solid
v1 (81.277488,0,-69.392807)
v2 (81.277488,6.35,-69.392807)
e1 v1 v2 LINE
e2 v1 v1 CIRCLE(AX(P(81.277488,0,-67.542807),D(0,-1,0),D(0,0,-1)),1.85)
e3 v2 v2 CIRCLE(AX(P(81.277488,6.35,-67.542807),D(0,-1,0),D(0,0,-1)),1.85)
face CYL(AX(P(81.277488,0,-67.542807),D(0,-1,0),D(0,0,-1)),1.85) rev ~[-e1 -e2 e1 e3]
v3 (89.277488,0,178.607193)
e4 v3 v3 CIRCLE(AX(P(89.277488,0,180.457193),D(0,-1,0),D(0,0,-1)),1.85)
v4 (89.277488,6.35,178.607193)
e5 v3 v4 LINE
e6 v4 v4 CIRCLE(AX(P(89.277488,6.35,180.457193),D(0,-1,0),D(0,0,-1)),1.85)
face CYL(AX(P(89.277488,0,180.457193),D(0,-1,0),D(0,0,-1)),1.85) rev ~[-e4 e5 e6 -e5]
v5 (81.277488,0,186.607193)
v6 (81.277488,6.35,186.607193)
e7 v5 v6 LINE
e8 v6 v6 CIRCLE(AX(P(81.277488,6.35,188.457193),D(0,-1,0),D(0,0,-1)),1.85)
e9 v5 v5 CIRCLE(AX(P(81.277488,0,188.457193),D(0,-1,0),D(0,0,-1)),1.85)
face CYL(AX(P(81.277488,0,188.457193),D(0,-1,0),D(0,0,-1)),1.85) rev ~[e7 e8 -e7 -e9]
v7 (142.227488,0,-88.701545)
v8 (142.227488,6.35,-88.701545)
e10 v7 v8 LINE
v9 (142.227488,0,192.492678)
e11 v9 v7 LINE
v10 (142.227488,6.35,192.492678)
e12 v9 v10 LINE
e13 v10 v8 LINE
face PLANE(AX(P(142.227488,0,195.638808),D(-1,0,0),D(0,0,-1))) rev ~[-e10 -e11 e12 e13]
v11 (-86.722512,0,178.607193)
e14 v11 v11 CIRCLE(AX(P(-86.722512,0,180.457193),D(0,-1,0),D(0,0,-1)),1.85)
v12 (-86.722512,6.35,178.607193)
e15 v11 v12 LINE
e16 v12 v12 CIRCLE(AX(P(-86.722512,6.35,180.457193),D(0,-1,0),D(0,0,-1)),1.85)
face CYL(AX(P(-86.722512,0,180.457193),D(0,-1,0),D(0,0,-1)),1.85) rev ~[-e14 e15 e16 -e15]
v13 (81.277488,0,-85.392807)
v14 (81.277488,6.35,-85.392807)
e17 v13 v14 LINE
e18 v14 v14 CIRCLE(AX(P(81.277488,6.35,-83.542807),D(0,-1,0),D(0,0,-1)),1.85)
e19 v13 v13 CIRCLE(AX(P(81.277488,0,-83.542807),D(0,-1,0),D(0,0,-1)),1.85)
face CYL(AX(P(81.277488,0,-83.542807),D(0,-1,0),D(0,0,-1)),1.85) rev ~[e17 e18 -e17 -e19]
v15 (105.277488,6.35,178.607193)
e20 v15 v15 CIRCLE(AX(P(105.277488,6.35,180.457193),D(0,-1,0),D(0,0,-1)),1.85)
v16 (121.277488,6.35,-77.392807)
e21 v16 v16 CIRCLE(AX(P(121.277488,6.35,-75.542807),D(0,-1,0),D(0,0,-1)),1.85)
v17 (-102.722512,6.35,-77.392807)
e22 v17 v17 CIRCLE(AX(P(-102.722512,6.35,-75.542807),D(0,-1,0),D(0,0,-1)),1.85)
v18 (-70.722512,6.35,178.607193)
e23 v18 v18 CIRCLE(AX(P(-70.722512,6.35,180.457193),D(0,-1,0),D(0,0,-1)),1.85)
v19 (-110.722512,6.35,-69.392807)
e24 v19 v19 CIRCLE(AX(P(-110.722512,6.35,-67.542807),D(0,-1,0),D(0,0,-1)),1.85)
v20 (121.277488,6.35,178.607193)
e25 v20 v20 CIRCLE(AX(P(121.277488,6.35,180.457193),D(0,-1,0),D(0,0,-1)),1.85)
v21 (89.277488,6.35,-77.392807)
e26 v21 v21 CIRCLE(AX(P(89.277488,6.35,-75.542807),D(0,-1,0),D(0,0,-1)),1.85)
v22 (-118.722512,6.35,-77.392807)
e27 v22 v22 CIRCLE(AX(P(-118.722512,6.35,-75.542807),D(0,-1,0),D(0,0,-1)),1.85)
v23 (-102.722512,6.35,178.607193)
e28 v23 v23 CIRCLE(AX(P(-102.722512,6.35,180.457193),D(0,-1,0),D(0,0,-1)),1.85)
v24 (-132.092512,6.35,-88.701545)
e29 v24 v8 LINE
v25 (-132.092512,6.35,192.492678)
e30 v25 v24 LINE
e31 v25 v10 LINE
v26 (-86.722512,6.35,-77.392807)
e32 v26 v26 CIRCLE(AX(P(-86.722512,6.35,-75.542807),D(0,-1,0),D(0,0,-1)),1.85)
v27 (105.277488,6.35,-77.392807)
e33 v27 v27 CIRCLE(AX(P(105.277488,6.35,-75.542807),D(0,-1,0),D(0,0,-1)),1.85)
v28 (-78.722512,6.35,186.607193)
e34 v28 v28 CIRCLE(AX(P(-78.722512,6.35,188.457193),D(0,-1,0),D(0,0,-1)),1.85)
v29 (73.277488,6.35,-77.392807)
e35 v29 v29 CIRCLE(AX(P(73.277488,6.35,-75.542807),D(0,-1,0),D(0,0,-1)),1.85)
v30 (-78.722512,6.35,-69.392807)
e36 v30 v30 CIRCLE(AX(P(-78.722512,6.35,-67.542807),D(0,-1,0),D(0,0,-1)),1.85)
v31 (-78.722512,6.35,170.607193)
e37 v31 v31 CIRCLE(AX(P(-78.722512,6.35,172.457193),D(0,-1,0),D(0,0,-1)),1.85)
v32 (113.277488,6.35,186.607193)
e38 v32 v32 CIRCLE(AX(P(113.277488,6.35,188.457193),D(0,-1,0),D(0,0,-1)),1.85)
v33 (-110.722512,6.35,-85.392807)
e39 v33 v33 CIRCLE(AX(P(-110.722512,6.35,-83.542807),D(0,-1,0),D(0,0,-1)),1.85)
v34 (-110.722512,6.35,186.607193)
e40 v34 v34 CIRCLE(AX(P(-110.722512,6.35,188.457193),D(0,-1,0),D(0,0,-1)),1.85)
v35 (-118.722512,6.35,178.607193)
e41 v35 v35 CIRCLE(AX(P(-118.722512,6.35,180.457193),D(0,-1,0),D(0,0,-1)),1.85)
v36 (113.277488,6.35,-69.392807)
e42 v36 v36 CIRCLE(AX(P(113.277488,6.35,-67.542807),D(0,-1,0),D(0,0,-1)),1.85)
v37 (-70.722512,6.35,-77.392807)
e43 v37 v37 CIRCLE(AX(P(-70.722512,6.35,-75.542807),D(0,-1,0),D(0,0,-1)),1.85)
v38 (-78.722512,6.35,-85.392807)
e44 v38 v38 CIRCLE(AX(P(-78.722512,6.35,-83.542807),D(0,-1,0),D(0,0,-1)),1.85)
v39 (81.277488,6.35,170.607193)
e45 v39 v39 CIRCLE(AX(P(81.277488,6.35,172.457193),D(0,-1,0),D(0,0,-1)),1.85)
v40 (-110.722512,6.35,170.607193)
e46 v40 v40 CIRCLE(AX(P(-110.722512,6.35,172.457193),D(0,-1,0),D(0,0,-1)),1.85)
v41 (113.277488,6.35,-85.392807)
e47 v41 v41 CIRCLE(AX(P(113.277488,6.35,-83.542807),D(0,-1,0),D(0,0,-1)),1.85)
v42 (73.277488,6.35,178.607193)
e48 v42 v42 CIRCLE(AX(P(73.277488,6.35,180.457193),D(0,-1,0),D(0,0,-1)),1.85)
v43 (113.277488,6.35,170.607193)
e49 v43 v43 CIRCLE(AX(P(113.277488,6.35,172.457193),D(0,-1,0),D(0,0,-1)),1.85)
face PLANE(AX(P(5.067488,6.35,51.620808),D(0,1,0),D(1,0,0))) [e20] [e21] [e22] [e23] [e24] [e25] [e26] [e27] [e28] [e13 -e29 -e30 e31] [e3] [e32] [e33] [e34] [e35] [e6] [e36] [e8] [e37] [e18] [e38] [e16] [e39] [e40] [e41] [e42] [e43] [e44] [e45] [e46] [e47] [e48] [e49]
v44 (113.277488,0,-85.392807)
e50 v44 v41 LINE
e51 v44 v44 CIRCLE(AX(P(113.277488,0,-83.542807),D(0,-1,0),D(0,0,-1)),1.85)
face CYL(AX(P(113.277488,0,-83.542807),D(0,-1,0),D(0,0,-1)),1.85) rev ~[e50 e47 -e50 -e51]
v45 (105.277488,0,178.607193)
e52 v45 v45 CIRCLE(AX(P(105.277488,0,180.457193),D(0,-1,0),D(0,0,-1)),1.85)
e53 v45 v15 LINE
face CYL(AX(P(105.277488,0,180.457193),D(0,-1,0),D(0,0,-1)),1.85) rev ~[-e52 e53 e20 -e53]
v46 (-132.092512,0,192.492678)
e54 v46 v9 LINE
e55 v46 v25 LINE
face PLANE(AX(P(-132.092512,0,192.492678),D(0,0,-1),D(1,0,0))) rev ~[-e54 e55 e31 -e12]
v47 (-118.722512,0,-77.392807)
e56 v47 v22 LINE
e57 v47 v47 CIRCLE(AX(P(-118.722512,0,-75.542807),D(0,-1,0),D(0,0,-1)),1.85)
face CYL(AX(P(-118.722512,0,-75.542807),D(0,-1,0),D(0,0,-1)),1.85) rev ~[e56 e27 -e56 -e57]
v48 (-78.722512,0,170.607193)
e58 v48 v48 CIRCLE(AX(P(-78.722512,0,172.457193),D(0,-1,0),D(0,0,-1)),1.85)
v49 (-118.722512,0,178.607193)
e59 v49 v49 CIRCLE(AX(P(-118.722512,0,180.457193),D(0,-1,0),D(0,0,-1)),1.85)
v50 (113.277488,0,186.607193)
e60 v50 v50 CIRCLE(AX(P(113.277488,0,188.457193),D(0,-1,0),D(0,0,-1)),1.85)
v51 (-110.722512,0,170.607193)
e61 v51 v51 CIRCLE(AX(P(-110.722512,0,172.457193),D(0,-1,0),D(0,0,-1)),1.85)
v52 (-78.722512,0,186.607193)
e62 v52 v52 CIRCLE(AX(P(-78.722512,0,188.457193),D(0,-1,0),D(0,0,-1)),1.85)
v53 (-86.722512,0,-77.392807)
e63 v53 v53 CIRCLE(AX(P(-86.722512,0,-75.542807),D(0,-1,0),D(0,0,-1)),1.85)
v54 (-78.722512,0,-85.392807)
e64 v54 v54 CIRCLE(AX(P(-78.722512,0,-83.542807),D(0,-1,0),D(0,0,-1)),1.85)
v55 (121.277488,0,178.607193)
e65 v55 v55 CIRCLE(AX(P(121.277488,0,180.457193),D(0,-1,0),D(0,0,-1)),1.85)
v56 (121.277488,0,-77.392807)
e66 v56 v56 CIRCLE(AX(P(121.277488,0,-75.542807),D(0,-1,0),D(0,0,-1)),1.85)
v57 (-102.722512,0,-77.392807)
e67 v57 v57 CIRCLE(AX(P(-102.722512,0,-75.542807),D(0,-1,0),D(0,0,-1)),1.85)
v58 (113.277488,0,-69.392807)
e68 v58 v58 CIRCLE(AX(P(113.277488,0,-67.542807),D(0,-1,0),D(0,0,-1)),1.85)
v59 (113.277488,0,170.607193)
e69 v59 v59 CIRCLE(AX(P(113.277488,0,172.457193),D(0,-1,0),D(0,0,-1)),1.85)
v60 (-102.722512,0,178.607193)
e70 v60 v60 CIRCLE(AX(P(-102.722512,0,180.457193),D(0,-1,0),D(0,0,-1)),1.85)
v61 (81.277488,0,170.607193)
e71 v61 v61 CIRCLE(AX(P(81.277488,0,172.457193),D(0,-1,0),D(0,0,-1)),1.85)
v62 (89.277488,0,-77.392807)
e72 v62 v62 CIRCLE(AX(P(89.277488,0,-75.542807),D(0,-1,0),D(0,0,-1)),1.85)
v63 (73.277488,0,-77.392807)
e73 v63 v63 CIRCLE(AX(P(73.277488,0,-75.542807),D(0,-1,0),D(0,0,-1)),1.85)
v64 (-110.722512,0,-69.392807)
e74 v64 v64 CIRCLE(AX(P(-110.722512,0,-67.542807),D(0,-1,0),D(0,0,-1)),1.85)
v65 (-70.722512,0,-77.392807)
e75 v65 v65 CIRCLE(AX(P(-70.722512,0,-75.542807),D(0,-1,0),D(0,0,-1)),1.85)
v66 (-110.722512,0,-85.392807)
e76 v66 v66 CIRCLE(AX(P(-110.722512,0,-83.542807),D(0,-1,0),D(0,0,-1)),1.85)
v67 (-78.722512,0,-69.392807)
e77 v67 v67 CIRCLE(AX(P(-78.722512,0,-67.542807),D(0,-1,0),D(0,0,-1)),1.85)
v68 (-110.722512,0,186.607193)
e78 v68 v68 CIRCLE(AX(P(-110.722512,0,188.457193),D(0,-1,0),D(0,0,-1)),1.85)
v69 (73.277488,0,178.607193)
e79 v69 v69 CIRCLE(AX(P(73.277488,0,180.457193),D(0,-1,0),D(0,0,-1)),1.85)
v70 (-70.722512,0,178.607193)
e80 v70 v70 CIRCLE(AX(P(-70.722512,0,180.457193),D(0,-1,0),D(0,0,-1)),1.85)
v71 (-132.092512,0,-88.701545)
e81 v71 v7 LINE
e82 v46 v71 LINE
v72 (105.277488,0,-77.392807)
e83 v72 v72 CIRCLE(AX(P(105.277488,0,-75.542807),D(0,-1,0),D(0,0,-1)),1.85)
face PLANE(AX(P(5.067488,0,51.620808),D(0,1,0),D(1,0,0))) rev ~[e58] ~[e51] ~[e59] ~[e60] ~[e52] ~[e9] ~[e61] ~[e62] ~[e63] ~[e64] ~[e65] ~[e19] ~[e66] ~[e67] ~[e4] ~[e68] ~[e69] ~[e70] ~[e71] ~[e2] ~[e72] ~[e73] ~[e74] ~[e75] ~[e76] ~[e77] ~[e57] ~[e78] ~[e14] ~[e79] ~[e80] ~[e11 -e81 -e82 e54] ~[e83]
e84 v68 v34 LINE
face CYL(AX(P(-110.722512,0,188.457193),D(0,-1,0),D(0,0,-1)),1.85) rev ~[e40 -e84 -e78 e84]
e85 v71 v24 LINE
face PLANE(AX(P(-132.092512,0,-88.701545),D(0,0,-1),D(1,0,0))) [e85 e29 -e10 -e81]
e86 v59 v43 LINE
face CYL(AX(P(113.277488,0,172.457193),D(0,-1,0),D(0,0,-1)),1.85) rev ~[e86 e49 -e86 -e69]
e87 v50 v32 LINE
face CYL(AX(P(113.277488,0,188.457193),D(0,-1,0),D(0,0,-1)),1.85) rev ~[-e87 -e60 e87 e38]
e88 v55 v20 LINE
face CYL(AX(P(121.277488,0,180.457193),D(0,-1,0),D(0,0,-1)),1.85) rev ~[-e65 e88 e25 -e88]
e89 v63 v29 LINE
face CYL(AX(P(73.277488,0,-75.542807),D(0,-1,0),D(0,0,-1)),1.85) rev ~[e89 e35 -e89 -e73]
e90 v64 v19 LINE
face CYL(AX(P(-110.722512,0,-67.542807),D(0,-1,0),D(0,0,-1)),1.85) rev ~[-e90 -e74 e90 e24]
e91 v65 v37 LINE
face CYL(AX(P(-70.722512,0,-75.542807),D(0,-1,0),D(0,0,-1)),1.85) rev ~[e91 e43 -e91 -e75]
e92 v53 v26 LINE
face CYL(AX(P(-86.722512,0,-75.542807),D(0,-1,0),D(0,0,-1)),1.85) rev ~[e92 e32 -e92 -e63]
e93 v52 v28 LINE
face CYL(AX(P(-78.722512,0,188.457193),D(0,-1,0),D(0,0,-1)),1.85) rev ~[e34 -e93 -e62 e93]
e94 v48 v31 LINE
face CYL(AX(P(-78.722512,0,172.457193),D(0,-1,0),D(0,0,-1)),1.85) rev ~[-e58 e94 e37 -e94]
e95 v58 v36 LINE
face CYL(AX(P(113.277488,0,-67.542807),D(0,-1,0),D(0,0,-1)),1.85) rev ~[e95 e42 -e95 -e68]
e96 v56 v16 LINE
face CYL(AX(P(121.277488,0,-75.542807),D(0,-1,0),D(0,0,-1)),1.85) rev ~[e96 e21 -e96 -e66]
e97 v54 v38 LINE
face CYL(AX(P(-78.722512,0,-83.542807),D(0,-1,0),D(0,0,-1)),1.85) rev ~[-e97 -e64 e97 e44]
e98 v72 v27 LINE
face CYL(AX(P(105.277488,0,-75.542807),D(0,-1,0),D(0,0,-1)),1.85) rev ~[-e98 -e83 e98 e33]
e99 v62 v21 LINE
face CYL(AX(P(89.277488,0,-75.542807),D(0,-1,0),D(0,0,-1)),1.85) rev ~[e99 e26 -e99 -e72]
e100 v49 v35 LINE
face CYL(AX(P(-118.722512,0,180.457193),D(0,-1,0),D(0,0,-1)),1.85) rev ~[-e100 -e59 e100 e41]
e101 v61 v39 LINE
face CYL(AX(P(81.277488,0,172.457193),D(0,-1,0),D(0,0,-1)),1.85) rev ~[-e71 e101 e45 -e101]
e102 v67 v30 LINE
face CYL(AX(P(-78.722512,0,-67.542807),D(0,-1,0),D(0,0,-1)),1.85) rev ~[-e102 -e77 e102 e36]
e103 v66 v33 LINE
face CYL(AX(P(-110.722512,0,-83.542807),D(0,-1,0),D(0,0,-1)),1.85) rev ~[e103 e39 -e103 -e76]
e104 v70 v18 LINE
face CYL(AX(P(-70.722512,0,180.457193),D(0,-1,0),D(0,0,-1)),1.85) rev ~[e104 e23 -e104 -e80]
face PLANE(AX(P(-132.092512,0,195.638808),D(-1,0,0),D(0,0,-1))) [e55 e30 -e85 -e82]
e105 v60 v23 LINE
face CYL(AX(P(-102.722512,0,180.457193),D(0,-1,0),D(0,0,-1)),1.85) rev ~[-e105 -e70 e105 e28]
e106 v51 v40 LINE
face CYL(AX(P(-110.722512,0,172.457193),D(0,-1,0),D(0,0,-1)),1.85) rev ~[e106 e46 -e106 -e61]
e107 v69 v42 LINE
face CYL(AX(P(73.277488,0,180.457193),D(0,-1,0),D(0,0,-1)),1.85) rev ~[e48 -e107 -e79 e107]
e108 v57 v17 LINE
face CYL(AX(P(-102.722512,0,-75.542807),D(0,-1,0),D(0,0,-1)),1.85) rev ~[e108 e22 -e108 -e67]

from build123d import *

# Parameters (mm, degrees)
SKETCH1_W           = 274.32
SKETCH1_H           = 288.036
BOSS_EXTRUDE1_DEPTH = 6.35
CUT_EXTRUDE1_REACH  = 243.958
SKETCH2_R           = 1.85
CUT_EXTRUDE2_REACH  = 243.958
SKETCH2_5_R         = 1.85
CUT_EXTRUDE3_REACH  = 243.958
SKETCH3_W           = 274.32
SKETCH3_H           = 3.146129422
SKETCH3_H_2         = 3.695646794


with BuildPart() as part:
    # Sketch1 → Boss-Extrude1 (new body)
    with BuildSketch(Plane(origin=(0, 0, 0), x_dir=(1, 0, 0), z_dir=(0, 1, 0))):
        with Locations((5.067487685, -51.620807882)):
            Rectangle(SKETCH1_W, SKETCH1_H)
    extrude(amount=BOSS_EXTRUDE1_DEPTH)

    # Sketch2 → Cut-Extrude1 (cut, up to next)
    with BuildSketch(Plane.XZ, mode=Mode.PRIVATE) as cut_extrude1_sk1:
        with Locations((-86.722512315, -75.542807004)):
            Circle(SKETCH2_R)
    cut_extrude1_tool1 = extrude(cut_extrude1_sk1.sketch, amount=-CUT_EXTRUDE1_REACH, mode=Mode.PRIVATE) & part.part
    # Sketch2 → Cut-Extrude1 (cut, up to next)
    with BuildSketch(Plane.XZ, mode=Mode.PRIVATE) as cut_extrude1_sk2:
        with Locations((-118.722512315, -75.542807004)):
            Circle(SKETCH2_R)
    cut_extrude1_tool2 = extrude(cut_extrude1_sk2.sketch, amount=-CUT_EXTRUDE1_REACH, mode=Mode.PRIVATE) & part.part
    # Sketch2 → Cut-Extrude1 (cut, up to next)
    with BuildSketch(Plane.XZ, mode=Mode.PRIVATE) as cut_extrude1_sk3:
        with Locations((-110.722512315, -83.542807004)):
            Circle(SKETCH2_R)
    cut_extrude1_tool3 = extrude(cut_extrude1_sk3.sketch, amount=-CUT_EXTRUDE1_REACH, mode=Mode.PRIVATE) & part.part
    # Sketch2 → Cut-Extrude1 (cut, up to next)
    with BuildSketch(Plane.XZ, mode=Mode.PRIVATE) as cut_extrude1_sk4:
        with Locations((-102.722512315, -75.542807004)):
            Circle(SKETCH2_R)
    cut_extrude1_tool4 = extrude(cut_extrude1_sk4.sketch, amount=-CUT_EXTRUDE1_REACH, mode=Mode.PRIVATE) & part.part
    # Sketch2 → Cut-Extrude1 (cut, up to next)
    with BuildSketch(Plane.XZ, mode=Mode.PRIVATE) as cut_extrude1_sk5:
        with Locations((-110.722512315, -67.542807004)):
            Circle(SKETCH2_R)
    cut_extrude1_tool5 = extrude(cut_extrude1_sk5.sketch, amount=-CUT_EXTRUDE1_REACH, mode=Mode.PRIVATE) & part.part
    # Sketch2 → Cut-Extrude1 (cut, up to next)
    with BuildSketch(Plane.XZ, mode=Mode.PRIVATE) as cut_extrude1_sk6:
        with Locations((-70.722512315, -75.542807004)):
            Circle(SKETCH2_R)
    cut_extrude1_tool6 = extrude(cut_extrude1_sk6.sketch, amount=-CUT_EXTRUDE1_REACH, mode=Mode.PRIVATE) & part.part
    # Sketch2 → Cut-Extrude1 (cut, up to next)
    with BuildSketch(Plane.XZ, mode=Mode.PRIVATE) as cut_extrude1_sk7:
        with Locations((-78.722512315, -67.542807004)):
            Circle(SKETCH2_R)
    cut_extrude1_tool7 = extrude(cut_extrude1_sk7.sketch, amount=-CUT_EXTRUDE1_REACH, mode=Mode.PRIVATE) & part.part
    # Sketch2 → Cut-Extrude1 (cut, up to next)
    with BuildSketch(Plane.XZ, mode=Mode.PRIVATE) as cut_extrude1_sk8:
        with Locations((-78.722512315, -83.542807004)):
            Circle(SKETCH2_R)
    cut_extrude1_tool8 = extrude(cut_extrude1_sk8.sketch, amount=-CUT_EXTRUDE1_REACH, mode=Mode.PRIVATE) & part.part
    add(cut_extrude1_tool1.solids().sort_by_distance((-86.722512, 0, -75.542807))[0], mode=Mode.SUBTRACT)
    add(cut_extrude1_tool2.solids().sort_by_distance((-118.722512, 0, -75.542807))[0], mode=Mode.SUBTRACT)
    add(cut_extrude1_tool3.solids().sort_by_distance((-110.722512, 0, -83.542807))[0], mode=Mode.SUBTRACT)
    add(cut_extrude1_tool4.solids().sort_by_distance((-102.722512, 0, -75.542807))[0], mode=Mode.SUBTRACT)
    add(cut_extrude1_tool5.solids().sort_by_distance((-110.722512, 0, -67.542807))[0], mode=Mode.SUBTRACT)
    add(cut_extrude1_tool6.solids().sort_by_distance((-70.722512, 0, -75.542807))[0], mode=Mode.SUBTRACT)
    add(cut_extrude1_tool7.solids().sort_by_distance((-78.722512, 0, -67.542807))[0], mode=Mode.SUBTRACT)
    add(cut_extrude1_tool8.solids().sort_by_distance((-78.722512, 0, -83.542807))[0], mode=Mode.SUBTRACT)

    # Sketch2<5> → Cut-Extrude2 (cut, up to next)
    with BuildSketch(Plane.XZ, mode=Mode.PRIVATE) as cut_extrude2_sk1:
        with Locations((121.277487685, -75.542807004)):
            Circle(SKETCH2_5_R)
    cut_extrude2_tool1 = extrude(cut_extrude2_sk1.sketch, amount=-CUT_EXTRUDE2_REACH, mode=Mode.PRIVATE) & part.part
    # Sketch2<5> → Cut-Extrude2 (cut, up to next)
    with BuildSketch(Plane.XZ, mode=Mode.PRIVATE) as cut_extrude2_sk2:
        with Locations((105.277487685, -75.542807004)):
            Circle(SKETCH2_5_R)
    cut_extrude2_tool2 = extrude(cut_extrude2_sk2.sketch, amount=-CUT_EXTRUDE2_REACH, mode=Mode.PRIVATE) & part.part
    # Sketch2<5> → Cut-Extrude2 (cut, up to next)
    with BuildSketch(Plane.XZ, mode=Mode.PRIVATE) as cut_extrude2_sk3:
        with Locations((113.277487685, -83.542807004)):
            Circle(SKETCH2_5_R)
    cut_extrude2_tool3 = extrude(cut_extrude2_sk3.sketch, amount=-CUT_EXTRUDE2_REACH, mode=Mode.PRIVATE) & part.part
    # Sketch2<5> → Cut-Extrude2 (cut, up to next)
    with BuildSketch(Plane.XZ, mode=Mode.PRIVATE) as cut_extrude2_sk4:
        with Locations((113.277487685, -67.542807004)):
            Circle(SKETCH2_5_R)
    cut_extrude2_tool4 = extrude(cut_extrude2_sk4.sketch, amount=-CUT_EXTRUDE2_REACH, mode=Mode.PRIVATE) & part.part
    # Sketch2<5> → Cut-Extrude2 (cut, up to next)
    with BuildSketch(Plane.XZ, mode=Mode.PRIVATE) as cut_extrude2_sk5:
        with Locations((89.277487685, -75.542807004)):
            Circle(SKETCH2_5_R)
    cut_extrude2_tool5 = extrude(cut_extrude2_sk5.sketch, amount=-CUT_EXTRUDE2_REACH, mode=Mode.PRIVATE) & part.part
    # Sketch2<5> → Cut-Extrude2 (cut, up to next)
    with BuildSketch(Plane.XZ, mode=Mode.PRIVATE) as cut_extrude2_sk6:
        with Locations((81.277487685, -83.542807004)):
            Circle(SKETCH2_5_R)
    cut_extrude2_tool6 = extrude(cut_extrude2_sk6.sketch, amount=-CUT_EXTRUDE2_REACH, mode=Mode.PRIVATE) & part.part
    # Sketch2<5> → Cut-Extrude2 (cut, up to next)
    with BuildSketch(Plane.XZ, mode=Mode.PRIVATE) as cut_extrude2_sk7:
        with Locations((81.277487685, -67.542807004)):
            Circle(SKETCH2_5_R)
    cut_extrude2_tool7 = extrude(cut_extrude2_sk7.sketch, amount=-CUT_EXTRUDE2_REACH, mode=Mode.PRIVATE) & part.part
    # Sketch2<5> → Cut-Extrude2 (cut, up to next)
    with BuildSketch(Plane.XZ, mode=Mode.PRIVATE) as cut_extrude2_sk8:
        with Locations((73.277487685, -75.542807004)):
            Circle(SKETCH2_5_R)
    cut_extrude2_tool8 = extrude(cut_extrude2_sk8.sketch, amount=-CUT_EXTRUDE2_REACH, mode=Mode.PRIVATE) & part.part
    # Sketch2<5> → Cut-Extrude2 (cut, up to next)
    with BuildSketch(Plane.XZ, mode=Mode.PRIVATE) as cut_extrude2_sk9:
        with Locations((73.277487685, 180.457192996)):
            Circle(SKETCH2_5_R)
    cut_extrude2_tool9 = extrude(cut_extrude2_sk9.sketch, amount=-CUT_EXTRUDE2_REACH, mode=Mode.PRIVATE) & part.part
    # Sketch2<5> → Cut-Extrude2 (cut, up to next)
    with BuildSketch(Plane.XZ, mode=Mode.PRIVATE) as cut_extrude2_sk10:
        with Locations((81.277487685, 188.457192996)):
            Circle(SKETCH2_5_R)
    cut_extrude2_tool10 = extrude(cut_extrude2_sk10.sketch, amount=-CUT_EXTRUDE2_REACH, mode=Mode.PRIVATE) & part.part
    # Sketch2<5> → Cut-Extrude2 (cut, up to next)
    with BuildSketch(Plane.XZ, mode=Mode.PRIVATE) as cut_extrude2_sk11:
        with Locations((81.277487685, 172.457192996)):
            Circle(SKETCH2_5_R)
    cut_extrude2_tool11 = extrude(cut_extrude2_sk11.sketch, amount=-CUT_EXTRUDE2_REACH, mode=Mode.PRIVATE) & part.part
    # Sketch2<5> → Cut-Extrude2 (cut, up to next)
    with BuildSketch(Plane.XZ, mode=Mode.PRIVATE) as cut_extrude2_sk12:
        with Locations((89.277487685, 180.457192996)):
            Circle(SKETCH2_5_R)
    cut_extrude2_tool12 = extrude(cut_extrude2_sk12.sketch, amount=-CUT_EXTRUDE2_REACH, mode=Mode.PRIVATE) & part.part
    # Sketch2<5> → Cut-Extrude2 (cut, up to next)
    with BuildSketch(Plane.XZ, mode=Mode.PRIVATE) as cut_extrude2_sk13:
        with Locations((105.277487685, 180.457192996)):
            Circle(SKETCH2_5_R)
    cut_extrude2_tool13 = extrude(cut_extrude2_sk13.sketch, amount=-CUT_EXTRUDE2_REACH, mode=Mode.PRIVATE) & part.part
    # Sketch2<5> → Cut-Extrude2 (cut, up to next)
    with BuildSketch(Plane.XZ, mode=Mode.PRIVATE) as cut_extrude2_sk14:
        with Locations((113.277487685, 188.457192996)):
            Circle(SKETCH2_5_R)
    cut_extrude2_tool14 = extrude(cut_extrude2_sk14.sketch, amount=-CUT_EXTRUDE2_REACH, mode=Mode.PRIVATE) & part.part
    # Sketch2<5> → Cut-Extrude2 (cut, up to next)
    with BuildSketch(Plane.XZ, mode=Mode.PRIVATE) as cut_extrude2_sk15:
        with Locations((121.277487685, 180.457192996)):
            Circle(SKETCH2_5_R)
    cut_extrude2_tool15 = extrude(cut_extrude2_sk15.sketch, amount=-CUT_EXTRUDE2_REACH, mode=Mode.PRIVATE) & part.part
    # Sketch2<5> → Cut-Extrude2 (cut, up to next)
    with BuildSketch(Plane.XZ, mode=Mode.PRIVATE) as cut_extrude2_sk16:
        with Locations((113.277487685, 172.457192996)):
            Circle(SKETCH2_5_R)
    cut_extrude2_tool16 = extrude(cut_extrude2_sk16.sketch, amount=-CUT_EXTRUDE2_REACH, mode=Mode.PRIVATE) & part.part
    # Sketch2<5> → Cut-Extrude2 (cut, up to next)
    with BuildSketch(Plane.XZ, mode=Mode.PRIVATE) as cut_extrude2_sk17:
        with Locations((-70.722512315, 180.457192996)):
            Circle(SKETCH2_5_R)
    cut_extrude2_tool17 = extrude(cut_extrude2_sk17.sketch, amount=-CUT_EXTRUDE2_REACH, mode=Mode.PRIVATE) & part.part
    # Sketch2<5> → Cut-Extrude2 (cut, up to next)
    with BuildSketch(Plane.XZ, mode=Mode.PRIVATE) as cut_extrude2_sk18:
        with Locations((-78.722512315, 188.457192996)):
            Circle(SKETCH2_5_R)
    cut_extrude2_tool18 = extrude(cut_extrude2_sk18.sketch, amount=-CUT_EXTRUDE2_REACH, mode=Mode.PRIVATE) & part.part
    # Sketch2<5> → Cut-Extrude2 (cut, up to next)
    with BuildSketch(Plane.XZ, mode=Mode.PRIVATE) as cut_extrude2_sk19:
        with Locations((-78.722512315, 172.457192996)):
            Circle(SKETCH2_5_R)
    cut_extrude2_tool19 = extrude(cut_extrude2_sk19.sketch, amount=-CUT_EXTRUDE2_REACH, mode=Mode.PRIVATE) & part.part
    # Sketch2<5> → Cut-Extrude2 (cut, up to next)
    with BuildSketch(Plane.XZ, mode=Mode.PRIVATE) as cut_extrude2_sk20:
        with Locations((-86.722512315, 180.457192996)):
            Circle(SKETCH2_5_R)
    cut_extrude2_tool20 = extrude(cut_extrude2_sk20.sketch, amount=-CUT_EXTRUDE2_REACH, mode=Mode.PRIVATE) & part.part
    # Sketch2<5> → Cut-Extrude2 (cut, up to next)
    with BuildSketch(Plane.XZ, mode=Mode.PRIVATE) as cut_extrude2_sk21:
        with Locations((-102.722512315, 180.457192996)):
            Circle(SKETCH2_5_R)
    cut_extrude2_tool21 = extrude(cut_extrude2_sk21.sketch, amount=-CUT_EXTRUDE2_REACH, mode=Mode.PRIVATE) & part.part
    # Sketch2<5> → Cut-Extrude2 (cut, up to next)
    with BuildSketch(Plane.XZ, mode=Mode.PRIVATE) as cut_extrude2_sk22:
        with Locations((-110.722512315, 188.457192996)):
            Circle(SKETCH2_5_R)
    cut_extrude2_tool22 = extrude(cut_extrude2_sk22.sketch, amount=-CUT_EXTRUDE2_REACH, mode=Mode.PRIVATE) & part.part
    # Sketch2<5> → Cut-Extrude2 (cut, up to next)
    with BuildSketch(Plane.XZ, mode=Mode.PRIVATE) as cut_extrude2_sk23:
        with Locations((-118.722512315, 180.457192996)):
            Circle(SKETCH2_5_R)
    cut_extrude2_tool23 = extrude(cut_extrude2_sk23.sketch, amount=-CUT_EXTRUDE2_REACH, mode=Mode.PRIVATE) & part.part
    # Sketch2<5> → Cut-Extrude2 (cut, up to next)
    with BuildSketch(Plane.XZ, mode=Mode.PRIVATE) as cut_extrude2_sk24:
        with Locations((-110.722512315, 172.457192996)):
            Circle(SKETCH2_5_R)
    cut_extrude2_tool24 = extrude(cut_extrude2_sk24.sketch, amount=-CUT_EXTRUDE2_REACH, mode=Mode.PRIVATE) & part.part
    add(cut_extrude2_tool1.solids().sort_by_distance((121.277488, 0, -75.542807))[0], mode=Mode.SUBTRACT)
    add(cut_extrude2_tool2.solids().sort_by_distance((105.277488, 0, -75.542807))[0], mode=Mode.SUBTRACT)
    add(cut_extrude2_tool3.solids().sort_by_distance((113.277488, 0, -83.542807))[0], mode=Mode.SUBTRACT)
    add(cut_extrude2_tool4.solids().sort_by_distance((113.277488, 0, -67.542807))[0], mode=Mode.SUBTRACT)
    add(cut_extrude2_tool5.solids().sort_by_distance((89.277488, 0, -75.542807))[0], mode=Mode.SUBTRACT)
    add(cut_extrude2_tool6.solids().sort_by_distance((81.277488, 0, -83.542807))[0], mode=Mode.SUBTRACT)
    add(cut_extrude2_tool7.solids().sort_by_distance((81.277488, 0, -67.542807))[0], mode=Mode.SUBTRACT)
    add(cut_extrude2_tool8.solids().sort_by_distance((73.277488, 0, -75.542807))[0], mode=Mode.SUBTRACT)
    add(cut_extrude2_tool9.solids().sort_by_distance((73.277488, 0, 180.457193))[0], mode=Mode.SUBTRACT)
    add(cut_extrude2_tool10.solids().sort_by_distance((81.277488, 0, 188.457193))[0], mode=Mode.SUBTRACT)
    add(cut_extrude2_tool11.solids().sort_by_distance((81.277488, 0, 172.457193))[0], mode=Mode.SUBTRACT)
    add(cut_extrude2_tool12.solids().sort_by_distance((89.277488, 0, 180.457193))[0], mode=Mode.SUBTRACT)
    add(cut_extrude2_tool13.solids().sort_by_distance((105.277488, 0, 180.457193))[0], mode=Mode.SUBTRACT)
    add(cut_extrude2_tool14.solids().sort_by_distance((113.277488, 0, 188.457193))[0], mode=Mode.SUBTRACT)
    add(cut_extrude2_tool15.solids().sort_by_distance((121.277488, 0, 180.457193))[0], mode=Mode.SUBTRACT)
    add(cut_extrude2_tool16.solids().sort_by_distance((113.277488, 0, 172.457193))[0], mode=Mode.SUBTRACT)
    add(cut_extrude2_tool17.solids().sort_by_distance((-70.722512, 0, 180.457193))[0], mode=Mode.SUBTRACT)
    add(cut_extrude2_tool18.solids().sort_by_distance((-78.722512, 0, 188.457193))[0], mode=Mode.SUBTRACT)
    add(cut_extrude2_tool19.solids().sort_by_distance((-78.722512, 0, 172.457193))[0], mode=Mode.SUBTRACT)
    add(cut_extrude2_tool20.solids().sort_by_distance((-86.722512, 0, 180.457193))[0], mode=Mode.SUBTRACT)
    add(cut_extrude2_tool21.solids().sort_by_distance((-102.722512, 0, 180.457193))[0], mode=Mode.SUBTRACT)
    add(cut_extrude2_tool22.solids().sort_by_distance((-110.722512, 0, 188.457193))[0], mode=Mode.SUBTRACT)
    add(cut_extrude2_tool23.solids().sort_by_distance((-118.722512, 0, 180.457193))[0], mode=Mode.SUBTRACT)
    add(cut_extrude2_tool24.solids().sort_by_distance((-110.722512, 0, 172.457193))[0], mode=Mode.SUBTRACT)

    # Sketch3 → Cut-Extrude3 (cut, up to next)
    with BuildSketch(Plane.XZ, mode=Mode.PRIVATE) as cut_extrude3_sk1:
        with Locations((5.067487685, 194.065743171)):
            Rectangle(SKETCH3_W, SKETCH3_H)
    cut_extrude3_tool1 = extrude(cut_extrude3_sk1.sketch, amount=-CUT_EXTRUDE3_REACH, mode=Mode.PRIVATE) & part.part
    # Sketch3 → Cut-Extrude3 (cut, up to next)
    with BuildSketch(Plane.XZ, mode=Mode.PRIVATE) as cut_extrude3_sk2:
        with Locations((5.067487685, -90.549368721)):
            Rectangle(SKETCH3_W, SKETCH3_H_2)
    cut_extrude3_tool2 = extrude(cut_extrude3_sk2.sketch, amount=-CUT_EXTRUDE3_REACH, mode=Mode.PRIVATE) & part.part
    add(cut_extrude3_tool1.solids().sort_by_distance((5.067488, 0, 194.065743))[0], mode=Mode.SUBTRACT)
    add(cut_extrude3_tool2.solids().sort_by_distance((5.067488, 0, -90.549369))[0], mode=Mode.SUBTRACT)


solid = part.part
